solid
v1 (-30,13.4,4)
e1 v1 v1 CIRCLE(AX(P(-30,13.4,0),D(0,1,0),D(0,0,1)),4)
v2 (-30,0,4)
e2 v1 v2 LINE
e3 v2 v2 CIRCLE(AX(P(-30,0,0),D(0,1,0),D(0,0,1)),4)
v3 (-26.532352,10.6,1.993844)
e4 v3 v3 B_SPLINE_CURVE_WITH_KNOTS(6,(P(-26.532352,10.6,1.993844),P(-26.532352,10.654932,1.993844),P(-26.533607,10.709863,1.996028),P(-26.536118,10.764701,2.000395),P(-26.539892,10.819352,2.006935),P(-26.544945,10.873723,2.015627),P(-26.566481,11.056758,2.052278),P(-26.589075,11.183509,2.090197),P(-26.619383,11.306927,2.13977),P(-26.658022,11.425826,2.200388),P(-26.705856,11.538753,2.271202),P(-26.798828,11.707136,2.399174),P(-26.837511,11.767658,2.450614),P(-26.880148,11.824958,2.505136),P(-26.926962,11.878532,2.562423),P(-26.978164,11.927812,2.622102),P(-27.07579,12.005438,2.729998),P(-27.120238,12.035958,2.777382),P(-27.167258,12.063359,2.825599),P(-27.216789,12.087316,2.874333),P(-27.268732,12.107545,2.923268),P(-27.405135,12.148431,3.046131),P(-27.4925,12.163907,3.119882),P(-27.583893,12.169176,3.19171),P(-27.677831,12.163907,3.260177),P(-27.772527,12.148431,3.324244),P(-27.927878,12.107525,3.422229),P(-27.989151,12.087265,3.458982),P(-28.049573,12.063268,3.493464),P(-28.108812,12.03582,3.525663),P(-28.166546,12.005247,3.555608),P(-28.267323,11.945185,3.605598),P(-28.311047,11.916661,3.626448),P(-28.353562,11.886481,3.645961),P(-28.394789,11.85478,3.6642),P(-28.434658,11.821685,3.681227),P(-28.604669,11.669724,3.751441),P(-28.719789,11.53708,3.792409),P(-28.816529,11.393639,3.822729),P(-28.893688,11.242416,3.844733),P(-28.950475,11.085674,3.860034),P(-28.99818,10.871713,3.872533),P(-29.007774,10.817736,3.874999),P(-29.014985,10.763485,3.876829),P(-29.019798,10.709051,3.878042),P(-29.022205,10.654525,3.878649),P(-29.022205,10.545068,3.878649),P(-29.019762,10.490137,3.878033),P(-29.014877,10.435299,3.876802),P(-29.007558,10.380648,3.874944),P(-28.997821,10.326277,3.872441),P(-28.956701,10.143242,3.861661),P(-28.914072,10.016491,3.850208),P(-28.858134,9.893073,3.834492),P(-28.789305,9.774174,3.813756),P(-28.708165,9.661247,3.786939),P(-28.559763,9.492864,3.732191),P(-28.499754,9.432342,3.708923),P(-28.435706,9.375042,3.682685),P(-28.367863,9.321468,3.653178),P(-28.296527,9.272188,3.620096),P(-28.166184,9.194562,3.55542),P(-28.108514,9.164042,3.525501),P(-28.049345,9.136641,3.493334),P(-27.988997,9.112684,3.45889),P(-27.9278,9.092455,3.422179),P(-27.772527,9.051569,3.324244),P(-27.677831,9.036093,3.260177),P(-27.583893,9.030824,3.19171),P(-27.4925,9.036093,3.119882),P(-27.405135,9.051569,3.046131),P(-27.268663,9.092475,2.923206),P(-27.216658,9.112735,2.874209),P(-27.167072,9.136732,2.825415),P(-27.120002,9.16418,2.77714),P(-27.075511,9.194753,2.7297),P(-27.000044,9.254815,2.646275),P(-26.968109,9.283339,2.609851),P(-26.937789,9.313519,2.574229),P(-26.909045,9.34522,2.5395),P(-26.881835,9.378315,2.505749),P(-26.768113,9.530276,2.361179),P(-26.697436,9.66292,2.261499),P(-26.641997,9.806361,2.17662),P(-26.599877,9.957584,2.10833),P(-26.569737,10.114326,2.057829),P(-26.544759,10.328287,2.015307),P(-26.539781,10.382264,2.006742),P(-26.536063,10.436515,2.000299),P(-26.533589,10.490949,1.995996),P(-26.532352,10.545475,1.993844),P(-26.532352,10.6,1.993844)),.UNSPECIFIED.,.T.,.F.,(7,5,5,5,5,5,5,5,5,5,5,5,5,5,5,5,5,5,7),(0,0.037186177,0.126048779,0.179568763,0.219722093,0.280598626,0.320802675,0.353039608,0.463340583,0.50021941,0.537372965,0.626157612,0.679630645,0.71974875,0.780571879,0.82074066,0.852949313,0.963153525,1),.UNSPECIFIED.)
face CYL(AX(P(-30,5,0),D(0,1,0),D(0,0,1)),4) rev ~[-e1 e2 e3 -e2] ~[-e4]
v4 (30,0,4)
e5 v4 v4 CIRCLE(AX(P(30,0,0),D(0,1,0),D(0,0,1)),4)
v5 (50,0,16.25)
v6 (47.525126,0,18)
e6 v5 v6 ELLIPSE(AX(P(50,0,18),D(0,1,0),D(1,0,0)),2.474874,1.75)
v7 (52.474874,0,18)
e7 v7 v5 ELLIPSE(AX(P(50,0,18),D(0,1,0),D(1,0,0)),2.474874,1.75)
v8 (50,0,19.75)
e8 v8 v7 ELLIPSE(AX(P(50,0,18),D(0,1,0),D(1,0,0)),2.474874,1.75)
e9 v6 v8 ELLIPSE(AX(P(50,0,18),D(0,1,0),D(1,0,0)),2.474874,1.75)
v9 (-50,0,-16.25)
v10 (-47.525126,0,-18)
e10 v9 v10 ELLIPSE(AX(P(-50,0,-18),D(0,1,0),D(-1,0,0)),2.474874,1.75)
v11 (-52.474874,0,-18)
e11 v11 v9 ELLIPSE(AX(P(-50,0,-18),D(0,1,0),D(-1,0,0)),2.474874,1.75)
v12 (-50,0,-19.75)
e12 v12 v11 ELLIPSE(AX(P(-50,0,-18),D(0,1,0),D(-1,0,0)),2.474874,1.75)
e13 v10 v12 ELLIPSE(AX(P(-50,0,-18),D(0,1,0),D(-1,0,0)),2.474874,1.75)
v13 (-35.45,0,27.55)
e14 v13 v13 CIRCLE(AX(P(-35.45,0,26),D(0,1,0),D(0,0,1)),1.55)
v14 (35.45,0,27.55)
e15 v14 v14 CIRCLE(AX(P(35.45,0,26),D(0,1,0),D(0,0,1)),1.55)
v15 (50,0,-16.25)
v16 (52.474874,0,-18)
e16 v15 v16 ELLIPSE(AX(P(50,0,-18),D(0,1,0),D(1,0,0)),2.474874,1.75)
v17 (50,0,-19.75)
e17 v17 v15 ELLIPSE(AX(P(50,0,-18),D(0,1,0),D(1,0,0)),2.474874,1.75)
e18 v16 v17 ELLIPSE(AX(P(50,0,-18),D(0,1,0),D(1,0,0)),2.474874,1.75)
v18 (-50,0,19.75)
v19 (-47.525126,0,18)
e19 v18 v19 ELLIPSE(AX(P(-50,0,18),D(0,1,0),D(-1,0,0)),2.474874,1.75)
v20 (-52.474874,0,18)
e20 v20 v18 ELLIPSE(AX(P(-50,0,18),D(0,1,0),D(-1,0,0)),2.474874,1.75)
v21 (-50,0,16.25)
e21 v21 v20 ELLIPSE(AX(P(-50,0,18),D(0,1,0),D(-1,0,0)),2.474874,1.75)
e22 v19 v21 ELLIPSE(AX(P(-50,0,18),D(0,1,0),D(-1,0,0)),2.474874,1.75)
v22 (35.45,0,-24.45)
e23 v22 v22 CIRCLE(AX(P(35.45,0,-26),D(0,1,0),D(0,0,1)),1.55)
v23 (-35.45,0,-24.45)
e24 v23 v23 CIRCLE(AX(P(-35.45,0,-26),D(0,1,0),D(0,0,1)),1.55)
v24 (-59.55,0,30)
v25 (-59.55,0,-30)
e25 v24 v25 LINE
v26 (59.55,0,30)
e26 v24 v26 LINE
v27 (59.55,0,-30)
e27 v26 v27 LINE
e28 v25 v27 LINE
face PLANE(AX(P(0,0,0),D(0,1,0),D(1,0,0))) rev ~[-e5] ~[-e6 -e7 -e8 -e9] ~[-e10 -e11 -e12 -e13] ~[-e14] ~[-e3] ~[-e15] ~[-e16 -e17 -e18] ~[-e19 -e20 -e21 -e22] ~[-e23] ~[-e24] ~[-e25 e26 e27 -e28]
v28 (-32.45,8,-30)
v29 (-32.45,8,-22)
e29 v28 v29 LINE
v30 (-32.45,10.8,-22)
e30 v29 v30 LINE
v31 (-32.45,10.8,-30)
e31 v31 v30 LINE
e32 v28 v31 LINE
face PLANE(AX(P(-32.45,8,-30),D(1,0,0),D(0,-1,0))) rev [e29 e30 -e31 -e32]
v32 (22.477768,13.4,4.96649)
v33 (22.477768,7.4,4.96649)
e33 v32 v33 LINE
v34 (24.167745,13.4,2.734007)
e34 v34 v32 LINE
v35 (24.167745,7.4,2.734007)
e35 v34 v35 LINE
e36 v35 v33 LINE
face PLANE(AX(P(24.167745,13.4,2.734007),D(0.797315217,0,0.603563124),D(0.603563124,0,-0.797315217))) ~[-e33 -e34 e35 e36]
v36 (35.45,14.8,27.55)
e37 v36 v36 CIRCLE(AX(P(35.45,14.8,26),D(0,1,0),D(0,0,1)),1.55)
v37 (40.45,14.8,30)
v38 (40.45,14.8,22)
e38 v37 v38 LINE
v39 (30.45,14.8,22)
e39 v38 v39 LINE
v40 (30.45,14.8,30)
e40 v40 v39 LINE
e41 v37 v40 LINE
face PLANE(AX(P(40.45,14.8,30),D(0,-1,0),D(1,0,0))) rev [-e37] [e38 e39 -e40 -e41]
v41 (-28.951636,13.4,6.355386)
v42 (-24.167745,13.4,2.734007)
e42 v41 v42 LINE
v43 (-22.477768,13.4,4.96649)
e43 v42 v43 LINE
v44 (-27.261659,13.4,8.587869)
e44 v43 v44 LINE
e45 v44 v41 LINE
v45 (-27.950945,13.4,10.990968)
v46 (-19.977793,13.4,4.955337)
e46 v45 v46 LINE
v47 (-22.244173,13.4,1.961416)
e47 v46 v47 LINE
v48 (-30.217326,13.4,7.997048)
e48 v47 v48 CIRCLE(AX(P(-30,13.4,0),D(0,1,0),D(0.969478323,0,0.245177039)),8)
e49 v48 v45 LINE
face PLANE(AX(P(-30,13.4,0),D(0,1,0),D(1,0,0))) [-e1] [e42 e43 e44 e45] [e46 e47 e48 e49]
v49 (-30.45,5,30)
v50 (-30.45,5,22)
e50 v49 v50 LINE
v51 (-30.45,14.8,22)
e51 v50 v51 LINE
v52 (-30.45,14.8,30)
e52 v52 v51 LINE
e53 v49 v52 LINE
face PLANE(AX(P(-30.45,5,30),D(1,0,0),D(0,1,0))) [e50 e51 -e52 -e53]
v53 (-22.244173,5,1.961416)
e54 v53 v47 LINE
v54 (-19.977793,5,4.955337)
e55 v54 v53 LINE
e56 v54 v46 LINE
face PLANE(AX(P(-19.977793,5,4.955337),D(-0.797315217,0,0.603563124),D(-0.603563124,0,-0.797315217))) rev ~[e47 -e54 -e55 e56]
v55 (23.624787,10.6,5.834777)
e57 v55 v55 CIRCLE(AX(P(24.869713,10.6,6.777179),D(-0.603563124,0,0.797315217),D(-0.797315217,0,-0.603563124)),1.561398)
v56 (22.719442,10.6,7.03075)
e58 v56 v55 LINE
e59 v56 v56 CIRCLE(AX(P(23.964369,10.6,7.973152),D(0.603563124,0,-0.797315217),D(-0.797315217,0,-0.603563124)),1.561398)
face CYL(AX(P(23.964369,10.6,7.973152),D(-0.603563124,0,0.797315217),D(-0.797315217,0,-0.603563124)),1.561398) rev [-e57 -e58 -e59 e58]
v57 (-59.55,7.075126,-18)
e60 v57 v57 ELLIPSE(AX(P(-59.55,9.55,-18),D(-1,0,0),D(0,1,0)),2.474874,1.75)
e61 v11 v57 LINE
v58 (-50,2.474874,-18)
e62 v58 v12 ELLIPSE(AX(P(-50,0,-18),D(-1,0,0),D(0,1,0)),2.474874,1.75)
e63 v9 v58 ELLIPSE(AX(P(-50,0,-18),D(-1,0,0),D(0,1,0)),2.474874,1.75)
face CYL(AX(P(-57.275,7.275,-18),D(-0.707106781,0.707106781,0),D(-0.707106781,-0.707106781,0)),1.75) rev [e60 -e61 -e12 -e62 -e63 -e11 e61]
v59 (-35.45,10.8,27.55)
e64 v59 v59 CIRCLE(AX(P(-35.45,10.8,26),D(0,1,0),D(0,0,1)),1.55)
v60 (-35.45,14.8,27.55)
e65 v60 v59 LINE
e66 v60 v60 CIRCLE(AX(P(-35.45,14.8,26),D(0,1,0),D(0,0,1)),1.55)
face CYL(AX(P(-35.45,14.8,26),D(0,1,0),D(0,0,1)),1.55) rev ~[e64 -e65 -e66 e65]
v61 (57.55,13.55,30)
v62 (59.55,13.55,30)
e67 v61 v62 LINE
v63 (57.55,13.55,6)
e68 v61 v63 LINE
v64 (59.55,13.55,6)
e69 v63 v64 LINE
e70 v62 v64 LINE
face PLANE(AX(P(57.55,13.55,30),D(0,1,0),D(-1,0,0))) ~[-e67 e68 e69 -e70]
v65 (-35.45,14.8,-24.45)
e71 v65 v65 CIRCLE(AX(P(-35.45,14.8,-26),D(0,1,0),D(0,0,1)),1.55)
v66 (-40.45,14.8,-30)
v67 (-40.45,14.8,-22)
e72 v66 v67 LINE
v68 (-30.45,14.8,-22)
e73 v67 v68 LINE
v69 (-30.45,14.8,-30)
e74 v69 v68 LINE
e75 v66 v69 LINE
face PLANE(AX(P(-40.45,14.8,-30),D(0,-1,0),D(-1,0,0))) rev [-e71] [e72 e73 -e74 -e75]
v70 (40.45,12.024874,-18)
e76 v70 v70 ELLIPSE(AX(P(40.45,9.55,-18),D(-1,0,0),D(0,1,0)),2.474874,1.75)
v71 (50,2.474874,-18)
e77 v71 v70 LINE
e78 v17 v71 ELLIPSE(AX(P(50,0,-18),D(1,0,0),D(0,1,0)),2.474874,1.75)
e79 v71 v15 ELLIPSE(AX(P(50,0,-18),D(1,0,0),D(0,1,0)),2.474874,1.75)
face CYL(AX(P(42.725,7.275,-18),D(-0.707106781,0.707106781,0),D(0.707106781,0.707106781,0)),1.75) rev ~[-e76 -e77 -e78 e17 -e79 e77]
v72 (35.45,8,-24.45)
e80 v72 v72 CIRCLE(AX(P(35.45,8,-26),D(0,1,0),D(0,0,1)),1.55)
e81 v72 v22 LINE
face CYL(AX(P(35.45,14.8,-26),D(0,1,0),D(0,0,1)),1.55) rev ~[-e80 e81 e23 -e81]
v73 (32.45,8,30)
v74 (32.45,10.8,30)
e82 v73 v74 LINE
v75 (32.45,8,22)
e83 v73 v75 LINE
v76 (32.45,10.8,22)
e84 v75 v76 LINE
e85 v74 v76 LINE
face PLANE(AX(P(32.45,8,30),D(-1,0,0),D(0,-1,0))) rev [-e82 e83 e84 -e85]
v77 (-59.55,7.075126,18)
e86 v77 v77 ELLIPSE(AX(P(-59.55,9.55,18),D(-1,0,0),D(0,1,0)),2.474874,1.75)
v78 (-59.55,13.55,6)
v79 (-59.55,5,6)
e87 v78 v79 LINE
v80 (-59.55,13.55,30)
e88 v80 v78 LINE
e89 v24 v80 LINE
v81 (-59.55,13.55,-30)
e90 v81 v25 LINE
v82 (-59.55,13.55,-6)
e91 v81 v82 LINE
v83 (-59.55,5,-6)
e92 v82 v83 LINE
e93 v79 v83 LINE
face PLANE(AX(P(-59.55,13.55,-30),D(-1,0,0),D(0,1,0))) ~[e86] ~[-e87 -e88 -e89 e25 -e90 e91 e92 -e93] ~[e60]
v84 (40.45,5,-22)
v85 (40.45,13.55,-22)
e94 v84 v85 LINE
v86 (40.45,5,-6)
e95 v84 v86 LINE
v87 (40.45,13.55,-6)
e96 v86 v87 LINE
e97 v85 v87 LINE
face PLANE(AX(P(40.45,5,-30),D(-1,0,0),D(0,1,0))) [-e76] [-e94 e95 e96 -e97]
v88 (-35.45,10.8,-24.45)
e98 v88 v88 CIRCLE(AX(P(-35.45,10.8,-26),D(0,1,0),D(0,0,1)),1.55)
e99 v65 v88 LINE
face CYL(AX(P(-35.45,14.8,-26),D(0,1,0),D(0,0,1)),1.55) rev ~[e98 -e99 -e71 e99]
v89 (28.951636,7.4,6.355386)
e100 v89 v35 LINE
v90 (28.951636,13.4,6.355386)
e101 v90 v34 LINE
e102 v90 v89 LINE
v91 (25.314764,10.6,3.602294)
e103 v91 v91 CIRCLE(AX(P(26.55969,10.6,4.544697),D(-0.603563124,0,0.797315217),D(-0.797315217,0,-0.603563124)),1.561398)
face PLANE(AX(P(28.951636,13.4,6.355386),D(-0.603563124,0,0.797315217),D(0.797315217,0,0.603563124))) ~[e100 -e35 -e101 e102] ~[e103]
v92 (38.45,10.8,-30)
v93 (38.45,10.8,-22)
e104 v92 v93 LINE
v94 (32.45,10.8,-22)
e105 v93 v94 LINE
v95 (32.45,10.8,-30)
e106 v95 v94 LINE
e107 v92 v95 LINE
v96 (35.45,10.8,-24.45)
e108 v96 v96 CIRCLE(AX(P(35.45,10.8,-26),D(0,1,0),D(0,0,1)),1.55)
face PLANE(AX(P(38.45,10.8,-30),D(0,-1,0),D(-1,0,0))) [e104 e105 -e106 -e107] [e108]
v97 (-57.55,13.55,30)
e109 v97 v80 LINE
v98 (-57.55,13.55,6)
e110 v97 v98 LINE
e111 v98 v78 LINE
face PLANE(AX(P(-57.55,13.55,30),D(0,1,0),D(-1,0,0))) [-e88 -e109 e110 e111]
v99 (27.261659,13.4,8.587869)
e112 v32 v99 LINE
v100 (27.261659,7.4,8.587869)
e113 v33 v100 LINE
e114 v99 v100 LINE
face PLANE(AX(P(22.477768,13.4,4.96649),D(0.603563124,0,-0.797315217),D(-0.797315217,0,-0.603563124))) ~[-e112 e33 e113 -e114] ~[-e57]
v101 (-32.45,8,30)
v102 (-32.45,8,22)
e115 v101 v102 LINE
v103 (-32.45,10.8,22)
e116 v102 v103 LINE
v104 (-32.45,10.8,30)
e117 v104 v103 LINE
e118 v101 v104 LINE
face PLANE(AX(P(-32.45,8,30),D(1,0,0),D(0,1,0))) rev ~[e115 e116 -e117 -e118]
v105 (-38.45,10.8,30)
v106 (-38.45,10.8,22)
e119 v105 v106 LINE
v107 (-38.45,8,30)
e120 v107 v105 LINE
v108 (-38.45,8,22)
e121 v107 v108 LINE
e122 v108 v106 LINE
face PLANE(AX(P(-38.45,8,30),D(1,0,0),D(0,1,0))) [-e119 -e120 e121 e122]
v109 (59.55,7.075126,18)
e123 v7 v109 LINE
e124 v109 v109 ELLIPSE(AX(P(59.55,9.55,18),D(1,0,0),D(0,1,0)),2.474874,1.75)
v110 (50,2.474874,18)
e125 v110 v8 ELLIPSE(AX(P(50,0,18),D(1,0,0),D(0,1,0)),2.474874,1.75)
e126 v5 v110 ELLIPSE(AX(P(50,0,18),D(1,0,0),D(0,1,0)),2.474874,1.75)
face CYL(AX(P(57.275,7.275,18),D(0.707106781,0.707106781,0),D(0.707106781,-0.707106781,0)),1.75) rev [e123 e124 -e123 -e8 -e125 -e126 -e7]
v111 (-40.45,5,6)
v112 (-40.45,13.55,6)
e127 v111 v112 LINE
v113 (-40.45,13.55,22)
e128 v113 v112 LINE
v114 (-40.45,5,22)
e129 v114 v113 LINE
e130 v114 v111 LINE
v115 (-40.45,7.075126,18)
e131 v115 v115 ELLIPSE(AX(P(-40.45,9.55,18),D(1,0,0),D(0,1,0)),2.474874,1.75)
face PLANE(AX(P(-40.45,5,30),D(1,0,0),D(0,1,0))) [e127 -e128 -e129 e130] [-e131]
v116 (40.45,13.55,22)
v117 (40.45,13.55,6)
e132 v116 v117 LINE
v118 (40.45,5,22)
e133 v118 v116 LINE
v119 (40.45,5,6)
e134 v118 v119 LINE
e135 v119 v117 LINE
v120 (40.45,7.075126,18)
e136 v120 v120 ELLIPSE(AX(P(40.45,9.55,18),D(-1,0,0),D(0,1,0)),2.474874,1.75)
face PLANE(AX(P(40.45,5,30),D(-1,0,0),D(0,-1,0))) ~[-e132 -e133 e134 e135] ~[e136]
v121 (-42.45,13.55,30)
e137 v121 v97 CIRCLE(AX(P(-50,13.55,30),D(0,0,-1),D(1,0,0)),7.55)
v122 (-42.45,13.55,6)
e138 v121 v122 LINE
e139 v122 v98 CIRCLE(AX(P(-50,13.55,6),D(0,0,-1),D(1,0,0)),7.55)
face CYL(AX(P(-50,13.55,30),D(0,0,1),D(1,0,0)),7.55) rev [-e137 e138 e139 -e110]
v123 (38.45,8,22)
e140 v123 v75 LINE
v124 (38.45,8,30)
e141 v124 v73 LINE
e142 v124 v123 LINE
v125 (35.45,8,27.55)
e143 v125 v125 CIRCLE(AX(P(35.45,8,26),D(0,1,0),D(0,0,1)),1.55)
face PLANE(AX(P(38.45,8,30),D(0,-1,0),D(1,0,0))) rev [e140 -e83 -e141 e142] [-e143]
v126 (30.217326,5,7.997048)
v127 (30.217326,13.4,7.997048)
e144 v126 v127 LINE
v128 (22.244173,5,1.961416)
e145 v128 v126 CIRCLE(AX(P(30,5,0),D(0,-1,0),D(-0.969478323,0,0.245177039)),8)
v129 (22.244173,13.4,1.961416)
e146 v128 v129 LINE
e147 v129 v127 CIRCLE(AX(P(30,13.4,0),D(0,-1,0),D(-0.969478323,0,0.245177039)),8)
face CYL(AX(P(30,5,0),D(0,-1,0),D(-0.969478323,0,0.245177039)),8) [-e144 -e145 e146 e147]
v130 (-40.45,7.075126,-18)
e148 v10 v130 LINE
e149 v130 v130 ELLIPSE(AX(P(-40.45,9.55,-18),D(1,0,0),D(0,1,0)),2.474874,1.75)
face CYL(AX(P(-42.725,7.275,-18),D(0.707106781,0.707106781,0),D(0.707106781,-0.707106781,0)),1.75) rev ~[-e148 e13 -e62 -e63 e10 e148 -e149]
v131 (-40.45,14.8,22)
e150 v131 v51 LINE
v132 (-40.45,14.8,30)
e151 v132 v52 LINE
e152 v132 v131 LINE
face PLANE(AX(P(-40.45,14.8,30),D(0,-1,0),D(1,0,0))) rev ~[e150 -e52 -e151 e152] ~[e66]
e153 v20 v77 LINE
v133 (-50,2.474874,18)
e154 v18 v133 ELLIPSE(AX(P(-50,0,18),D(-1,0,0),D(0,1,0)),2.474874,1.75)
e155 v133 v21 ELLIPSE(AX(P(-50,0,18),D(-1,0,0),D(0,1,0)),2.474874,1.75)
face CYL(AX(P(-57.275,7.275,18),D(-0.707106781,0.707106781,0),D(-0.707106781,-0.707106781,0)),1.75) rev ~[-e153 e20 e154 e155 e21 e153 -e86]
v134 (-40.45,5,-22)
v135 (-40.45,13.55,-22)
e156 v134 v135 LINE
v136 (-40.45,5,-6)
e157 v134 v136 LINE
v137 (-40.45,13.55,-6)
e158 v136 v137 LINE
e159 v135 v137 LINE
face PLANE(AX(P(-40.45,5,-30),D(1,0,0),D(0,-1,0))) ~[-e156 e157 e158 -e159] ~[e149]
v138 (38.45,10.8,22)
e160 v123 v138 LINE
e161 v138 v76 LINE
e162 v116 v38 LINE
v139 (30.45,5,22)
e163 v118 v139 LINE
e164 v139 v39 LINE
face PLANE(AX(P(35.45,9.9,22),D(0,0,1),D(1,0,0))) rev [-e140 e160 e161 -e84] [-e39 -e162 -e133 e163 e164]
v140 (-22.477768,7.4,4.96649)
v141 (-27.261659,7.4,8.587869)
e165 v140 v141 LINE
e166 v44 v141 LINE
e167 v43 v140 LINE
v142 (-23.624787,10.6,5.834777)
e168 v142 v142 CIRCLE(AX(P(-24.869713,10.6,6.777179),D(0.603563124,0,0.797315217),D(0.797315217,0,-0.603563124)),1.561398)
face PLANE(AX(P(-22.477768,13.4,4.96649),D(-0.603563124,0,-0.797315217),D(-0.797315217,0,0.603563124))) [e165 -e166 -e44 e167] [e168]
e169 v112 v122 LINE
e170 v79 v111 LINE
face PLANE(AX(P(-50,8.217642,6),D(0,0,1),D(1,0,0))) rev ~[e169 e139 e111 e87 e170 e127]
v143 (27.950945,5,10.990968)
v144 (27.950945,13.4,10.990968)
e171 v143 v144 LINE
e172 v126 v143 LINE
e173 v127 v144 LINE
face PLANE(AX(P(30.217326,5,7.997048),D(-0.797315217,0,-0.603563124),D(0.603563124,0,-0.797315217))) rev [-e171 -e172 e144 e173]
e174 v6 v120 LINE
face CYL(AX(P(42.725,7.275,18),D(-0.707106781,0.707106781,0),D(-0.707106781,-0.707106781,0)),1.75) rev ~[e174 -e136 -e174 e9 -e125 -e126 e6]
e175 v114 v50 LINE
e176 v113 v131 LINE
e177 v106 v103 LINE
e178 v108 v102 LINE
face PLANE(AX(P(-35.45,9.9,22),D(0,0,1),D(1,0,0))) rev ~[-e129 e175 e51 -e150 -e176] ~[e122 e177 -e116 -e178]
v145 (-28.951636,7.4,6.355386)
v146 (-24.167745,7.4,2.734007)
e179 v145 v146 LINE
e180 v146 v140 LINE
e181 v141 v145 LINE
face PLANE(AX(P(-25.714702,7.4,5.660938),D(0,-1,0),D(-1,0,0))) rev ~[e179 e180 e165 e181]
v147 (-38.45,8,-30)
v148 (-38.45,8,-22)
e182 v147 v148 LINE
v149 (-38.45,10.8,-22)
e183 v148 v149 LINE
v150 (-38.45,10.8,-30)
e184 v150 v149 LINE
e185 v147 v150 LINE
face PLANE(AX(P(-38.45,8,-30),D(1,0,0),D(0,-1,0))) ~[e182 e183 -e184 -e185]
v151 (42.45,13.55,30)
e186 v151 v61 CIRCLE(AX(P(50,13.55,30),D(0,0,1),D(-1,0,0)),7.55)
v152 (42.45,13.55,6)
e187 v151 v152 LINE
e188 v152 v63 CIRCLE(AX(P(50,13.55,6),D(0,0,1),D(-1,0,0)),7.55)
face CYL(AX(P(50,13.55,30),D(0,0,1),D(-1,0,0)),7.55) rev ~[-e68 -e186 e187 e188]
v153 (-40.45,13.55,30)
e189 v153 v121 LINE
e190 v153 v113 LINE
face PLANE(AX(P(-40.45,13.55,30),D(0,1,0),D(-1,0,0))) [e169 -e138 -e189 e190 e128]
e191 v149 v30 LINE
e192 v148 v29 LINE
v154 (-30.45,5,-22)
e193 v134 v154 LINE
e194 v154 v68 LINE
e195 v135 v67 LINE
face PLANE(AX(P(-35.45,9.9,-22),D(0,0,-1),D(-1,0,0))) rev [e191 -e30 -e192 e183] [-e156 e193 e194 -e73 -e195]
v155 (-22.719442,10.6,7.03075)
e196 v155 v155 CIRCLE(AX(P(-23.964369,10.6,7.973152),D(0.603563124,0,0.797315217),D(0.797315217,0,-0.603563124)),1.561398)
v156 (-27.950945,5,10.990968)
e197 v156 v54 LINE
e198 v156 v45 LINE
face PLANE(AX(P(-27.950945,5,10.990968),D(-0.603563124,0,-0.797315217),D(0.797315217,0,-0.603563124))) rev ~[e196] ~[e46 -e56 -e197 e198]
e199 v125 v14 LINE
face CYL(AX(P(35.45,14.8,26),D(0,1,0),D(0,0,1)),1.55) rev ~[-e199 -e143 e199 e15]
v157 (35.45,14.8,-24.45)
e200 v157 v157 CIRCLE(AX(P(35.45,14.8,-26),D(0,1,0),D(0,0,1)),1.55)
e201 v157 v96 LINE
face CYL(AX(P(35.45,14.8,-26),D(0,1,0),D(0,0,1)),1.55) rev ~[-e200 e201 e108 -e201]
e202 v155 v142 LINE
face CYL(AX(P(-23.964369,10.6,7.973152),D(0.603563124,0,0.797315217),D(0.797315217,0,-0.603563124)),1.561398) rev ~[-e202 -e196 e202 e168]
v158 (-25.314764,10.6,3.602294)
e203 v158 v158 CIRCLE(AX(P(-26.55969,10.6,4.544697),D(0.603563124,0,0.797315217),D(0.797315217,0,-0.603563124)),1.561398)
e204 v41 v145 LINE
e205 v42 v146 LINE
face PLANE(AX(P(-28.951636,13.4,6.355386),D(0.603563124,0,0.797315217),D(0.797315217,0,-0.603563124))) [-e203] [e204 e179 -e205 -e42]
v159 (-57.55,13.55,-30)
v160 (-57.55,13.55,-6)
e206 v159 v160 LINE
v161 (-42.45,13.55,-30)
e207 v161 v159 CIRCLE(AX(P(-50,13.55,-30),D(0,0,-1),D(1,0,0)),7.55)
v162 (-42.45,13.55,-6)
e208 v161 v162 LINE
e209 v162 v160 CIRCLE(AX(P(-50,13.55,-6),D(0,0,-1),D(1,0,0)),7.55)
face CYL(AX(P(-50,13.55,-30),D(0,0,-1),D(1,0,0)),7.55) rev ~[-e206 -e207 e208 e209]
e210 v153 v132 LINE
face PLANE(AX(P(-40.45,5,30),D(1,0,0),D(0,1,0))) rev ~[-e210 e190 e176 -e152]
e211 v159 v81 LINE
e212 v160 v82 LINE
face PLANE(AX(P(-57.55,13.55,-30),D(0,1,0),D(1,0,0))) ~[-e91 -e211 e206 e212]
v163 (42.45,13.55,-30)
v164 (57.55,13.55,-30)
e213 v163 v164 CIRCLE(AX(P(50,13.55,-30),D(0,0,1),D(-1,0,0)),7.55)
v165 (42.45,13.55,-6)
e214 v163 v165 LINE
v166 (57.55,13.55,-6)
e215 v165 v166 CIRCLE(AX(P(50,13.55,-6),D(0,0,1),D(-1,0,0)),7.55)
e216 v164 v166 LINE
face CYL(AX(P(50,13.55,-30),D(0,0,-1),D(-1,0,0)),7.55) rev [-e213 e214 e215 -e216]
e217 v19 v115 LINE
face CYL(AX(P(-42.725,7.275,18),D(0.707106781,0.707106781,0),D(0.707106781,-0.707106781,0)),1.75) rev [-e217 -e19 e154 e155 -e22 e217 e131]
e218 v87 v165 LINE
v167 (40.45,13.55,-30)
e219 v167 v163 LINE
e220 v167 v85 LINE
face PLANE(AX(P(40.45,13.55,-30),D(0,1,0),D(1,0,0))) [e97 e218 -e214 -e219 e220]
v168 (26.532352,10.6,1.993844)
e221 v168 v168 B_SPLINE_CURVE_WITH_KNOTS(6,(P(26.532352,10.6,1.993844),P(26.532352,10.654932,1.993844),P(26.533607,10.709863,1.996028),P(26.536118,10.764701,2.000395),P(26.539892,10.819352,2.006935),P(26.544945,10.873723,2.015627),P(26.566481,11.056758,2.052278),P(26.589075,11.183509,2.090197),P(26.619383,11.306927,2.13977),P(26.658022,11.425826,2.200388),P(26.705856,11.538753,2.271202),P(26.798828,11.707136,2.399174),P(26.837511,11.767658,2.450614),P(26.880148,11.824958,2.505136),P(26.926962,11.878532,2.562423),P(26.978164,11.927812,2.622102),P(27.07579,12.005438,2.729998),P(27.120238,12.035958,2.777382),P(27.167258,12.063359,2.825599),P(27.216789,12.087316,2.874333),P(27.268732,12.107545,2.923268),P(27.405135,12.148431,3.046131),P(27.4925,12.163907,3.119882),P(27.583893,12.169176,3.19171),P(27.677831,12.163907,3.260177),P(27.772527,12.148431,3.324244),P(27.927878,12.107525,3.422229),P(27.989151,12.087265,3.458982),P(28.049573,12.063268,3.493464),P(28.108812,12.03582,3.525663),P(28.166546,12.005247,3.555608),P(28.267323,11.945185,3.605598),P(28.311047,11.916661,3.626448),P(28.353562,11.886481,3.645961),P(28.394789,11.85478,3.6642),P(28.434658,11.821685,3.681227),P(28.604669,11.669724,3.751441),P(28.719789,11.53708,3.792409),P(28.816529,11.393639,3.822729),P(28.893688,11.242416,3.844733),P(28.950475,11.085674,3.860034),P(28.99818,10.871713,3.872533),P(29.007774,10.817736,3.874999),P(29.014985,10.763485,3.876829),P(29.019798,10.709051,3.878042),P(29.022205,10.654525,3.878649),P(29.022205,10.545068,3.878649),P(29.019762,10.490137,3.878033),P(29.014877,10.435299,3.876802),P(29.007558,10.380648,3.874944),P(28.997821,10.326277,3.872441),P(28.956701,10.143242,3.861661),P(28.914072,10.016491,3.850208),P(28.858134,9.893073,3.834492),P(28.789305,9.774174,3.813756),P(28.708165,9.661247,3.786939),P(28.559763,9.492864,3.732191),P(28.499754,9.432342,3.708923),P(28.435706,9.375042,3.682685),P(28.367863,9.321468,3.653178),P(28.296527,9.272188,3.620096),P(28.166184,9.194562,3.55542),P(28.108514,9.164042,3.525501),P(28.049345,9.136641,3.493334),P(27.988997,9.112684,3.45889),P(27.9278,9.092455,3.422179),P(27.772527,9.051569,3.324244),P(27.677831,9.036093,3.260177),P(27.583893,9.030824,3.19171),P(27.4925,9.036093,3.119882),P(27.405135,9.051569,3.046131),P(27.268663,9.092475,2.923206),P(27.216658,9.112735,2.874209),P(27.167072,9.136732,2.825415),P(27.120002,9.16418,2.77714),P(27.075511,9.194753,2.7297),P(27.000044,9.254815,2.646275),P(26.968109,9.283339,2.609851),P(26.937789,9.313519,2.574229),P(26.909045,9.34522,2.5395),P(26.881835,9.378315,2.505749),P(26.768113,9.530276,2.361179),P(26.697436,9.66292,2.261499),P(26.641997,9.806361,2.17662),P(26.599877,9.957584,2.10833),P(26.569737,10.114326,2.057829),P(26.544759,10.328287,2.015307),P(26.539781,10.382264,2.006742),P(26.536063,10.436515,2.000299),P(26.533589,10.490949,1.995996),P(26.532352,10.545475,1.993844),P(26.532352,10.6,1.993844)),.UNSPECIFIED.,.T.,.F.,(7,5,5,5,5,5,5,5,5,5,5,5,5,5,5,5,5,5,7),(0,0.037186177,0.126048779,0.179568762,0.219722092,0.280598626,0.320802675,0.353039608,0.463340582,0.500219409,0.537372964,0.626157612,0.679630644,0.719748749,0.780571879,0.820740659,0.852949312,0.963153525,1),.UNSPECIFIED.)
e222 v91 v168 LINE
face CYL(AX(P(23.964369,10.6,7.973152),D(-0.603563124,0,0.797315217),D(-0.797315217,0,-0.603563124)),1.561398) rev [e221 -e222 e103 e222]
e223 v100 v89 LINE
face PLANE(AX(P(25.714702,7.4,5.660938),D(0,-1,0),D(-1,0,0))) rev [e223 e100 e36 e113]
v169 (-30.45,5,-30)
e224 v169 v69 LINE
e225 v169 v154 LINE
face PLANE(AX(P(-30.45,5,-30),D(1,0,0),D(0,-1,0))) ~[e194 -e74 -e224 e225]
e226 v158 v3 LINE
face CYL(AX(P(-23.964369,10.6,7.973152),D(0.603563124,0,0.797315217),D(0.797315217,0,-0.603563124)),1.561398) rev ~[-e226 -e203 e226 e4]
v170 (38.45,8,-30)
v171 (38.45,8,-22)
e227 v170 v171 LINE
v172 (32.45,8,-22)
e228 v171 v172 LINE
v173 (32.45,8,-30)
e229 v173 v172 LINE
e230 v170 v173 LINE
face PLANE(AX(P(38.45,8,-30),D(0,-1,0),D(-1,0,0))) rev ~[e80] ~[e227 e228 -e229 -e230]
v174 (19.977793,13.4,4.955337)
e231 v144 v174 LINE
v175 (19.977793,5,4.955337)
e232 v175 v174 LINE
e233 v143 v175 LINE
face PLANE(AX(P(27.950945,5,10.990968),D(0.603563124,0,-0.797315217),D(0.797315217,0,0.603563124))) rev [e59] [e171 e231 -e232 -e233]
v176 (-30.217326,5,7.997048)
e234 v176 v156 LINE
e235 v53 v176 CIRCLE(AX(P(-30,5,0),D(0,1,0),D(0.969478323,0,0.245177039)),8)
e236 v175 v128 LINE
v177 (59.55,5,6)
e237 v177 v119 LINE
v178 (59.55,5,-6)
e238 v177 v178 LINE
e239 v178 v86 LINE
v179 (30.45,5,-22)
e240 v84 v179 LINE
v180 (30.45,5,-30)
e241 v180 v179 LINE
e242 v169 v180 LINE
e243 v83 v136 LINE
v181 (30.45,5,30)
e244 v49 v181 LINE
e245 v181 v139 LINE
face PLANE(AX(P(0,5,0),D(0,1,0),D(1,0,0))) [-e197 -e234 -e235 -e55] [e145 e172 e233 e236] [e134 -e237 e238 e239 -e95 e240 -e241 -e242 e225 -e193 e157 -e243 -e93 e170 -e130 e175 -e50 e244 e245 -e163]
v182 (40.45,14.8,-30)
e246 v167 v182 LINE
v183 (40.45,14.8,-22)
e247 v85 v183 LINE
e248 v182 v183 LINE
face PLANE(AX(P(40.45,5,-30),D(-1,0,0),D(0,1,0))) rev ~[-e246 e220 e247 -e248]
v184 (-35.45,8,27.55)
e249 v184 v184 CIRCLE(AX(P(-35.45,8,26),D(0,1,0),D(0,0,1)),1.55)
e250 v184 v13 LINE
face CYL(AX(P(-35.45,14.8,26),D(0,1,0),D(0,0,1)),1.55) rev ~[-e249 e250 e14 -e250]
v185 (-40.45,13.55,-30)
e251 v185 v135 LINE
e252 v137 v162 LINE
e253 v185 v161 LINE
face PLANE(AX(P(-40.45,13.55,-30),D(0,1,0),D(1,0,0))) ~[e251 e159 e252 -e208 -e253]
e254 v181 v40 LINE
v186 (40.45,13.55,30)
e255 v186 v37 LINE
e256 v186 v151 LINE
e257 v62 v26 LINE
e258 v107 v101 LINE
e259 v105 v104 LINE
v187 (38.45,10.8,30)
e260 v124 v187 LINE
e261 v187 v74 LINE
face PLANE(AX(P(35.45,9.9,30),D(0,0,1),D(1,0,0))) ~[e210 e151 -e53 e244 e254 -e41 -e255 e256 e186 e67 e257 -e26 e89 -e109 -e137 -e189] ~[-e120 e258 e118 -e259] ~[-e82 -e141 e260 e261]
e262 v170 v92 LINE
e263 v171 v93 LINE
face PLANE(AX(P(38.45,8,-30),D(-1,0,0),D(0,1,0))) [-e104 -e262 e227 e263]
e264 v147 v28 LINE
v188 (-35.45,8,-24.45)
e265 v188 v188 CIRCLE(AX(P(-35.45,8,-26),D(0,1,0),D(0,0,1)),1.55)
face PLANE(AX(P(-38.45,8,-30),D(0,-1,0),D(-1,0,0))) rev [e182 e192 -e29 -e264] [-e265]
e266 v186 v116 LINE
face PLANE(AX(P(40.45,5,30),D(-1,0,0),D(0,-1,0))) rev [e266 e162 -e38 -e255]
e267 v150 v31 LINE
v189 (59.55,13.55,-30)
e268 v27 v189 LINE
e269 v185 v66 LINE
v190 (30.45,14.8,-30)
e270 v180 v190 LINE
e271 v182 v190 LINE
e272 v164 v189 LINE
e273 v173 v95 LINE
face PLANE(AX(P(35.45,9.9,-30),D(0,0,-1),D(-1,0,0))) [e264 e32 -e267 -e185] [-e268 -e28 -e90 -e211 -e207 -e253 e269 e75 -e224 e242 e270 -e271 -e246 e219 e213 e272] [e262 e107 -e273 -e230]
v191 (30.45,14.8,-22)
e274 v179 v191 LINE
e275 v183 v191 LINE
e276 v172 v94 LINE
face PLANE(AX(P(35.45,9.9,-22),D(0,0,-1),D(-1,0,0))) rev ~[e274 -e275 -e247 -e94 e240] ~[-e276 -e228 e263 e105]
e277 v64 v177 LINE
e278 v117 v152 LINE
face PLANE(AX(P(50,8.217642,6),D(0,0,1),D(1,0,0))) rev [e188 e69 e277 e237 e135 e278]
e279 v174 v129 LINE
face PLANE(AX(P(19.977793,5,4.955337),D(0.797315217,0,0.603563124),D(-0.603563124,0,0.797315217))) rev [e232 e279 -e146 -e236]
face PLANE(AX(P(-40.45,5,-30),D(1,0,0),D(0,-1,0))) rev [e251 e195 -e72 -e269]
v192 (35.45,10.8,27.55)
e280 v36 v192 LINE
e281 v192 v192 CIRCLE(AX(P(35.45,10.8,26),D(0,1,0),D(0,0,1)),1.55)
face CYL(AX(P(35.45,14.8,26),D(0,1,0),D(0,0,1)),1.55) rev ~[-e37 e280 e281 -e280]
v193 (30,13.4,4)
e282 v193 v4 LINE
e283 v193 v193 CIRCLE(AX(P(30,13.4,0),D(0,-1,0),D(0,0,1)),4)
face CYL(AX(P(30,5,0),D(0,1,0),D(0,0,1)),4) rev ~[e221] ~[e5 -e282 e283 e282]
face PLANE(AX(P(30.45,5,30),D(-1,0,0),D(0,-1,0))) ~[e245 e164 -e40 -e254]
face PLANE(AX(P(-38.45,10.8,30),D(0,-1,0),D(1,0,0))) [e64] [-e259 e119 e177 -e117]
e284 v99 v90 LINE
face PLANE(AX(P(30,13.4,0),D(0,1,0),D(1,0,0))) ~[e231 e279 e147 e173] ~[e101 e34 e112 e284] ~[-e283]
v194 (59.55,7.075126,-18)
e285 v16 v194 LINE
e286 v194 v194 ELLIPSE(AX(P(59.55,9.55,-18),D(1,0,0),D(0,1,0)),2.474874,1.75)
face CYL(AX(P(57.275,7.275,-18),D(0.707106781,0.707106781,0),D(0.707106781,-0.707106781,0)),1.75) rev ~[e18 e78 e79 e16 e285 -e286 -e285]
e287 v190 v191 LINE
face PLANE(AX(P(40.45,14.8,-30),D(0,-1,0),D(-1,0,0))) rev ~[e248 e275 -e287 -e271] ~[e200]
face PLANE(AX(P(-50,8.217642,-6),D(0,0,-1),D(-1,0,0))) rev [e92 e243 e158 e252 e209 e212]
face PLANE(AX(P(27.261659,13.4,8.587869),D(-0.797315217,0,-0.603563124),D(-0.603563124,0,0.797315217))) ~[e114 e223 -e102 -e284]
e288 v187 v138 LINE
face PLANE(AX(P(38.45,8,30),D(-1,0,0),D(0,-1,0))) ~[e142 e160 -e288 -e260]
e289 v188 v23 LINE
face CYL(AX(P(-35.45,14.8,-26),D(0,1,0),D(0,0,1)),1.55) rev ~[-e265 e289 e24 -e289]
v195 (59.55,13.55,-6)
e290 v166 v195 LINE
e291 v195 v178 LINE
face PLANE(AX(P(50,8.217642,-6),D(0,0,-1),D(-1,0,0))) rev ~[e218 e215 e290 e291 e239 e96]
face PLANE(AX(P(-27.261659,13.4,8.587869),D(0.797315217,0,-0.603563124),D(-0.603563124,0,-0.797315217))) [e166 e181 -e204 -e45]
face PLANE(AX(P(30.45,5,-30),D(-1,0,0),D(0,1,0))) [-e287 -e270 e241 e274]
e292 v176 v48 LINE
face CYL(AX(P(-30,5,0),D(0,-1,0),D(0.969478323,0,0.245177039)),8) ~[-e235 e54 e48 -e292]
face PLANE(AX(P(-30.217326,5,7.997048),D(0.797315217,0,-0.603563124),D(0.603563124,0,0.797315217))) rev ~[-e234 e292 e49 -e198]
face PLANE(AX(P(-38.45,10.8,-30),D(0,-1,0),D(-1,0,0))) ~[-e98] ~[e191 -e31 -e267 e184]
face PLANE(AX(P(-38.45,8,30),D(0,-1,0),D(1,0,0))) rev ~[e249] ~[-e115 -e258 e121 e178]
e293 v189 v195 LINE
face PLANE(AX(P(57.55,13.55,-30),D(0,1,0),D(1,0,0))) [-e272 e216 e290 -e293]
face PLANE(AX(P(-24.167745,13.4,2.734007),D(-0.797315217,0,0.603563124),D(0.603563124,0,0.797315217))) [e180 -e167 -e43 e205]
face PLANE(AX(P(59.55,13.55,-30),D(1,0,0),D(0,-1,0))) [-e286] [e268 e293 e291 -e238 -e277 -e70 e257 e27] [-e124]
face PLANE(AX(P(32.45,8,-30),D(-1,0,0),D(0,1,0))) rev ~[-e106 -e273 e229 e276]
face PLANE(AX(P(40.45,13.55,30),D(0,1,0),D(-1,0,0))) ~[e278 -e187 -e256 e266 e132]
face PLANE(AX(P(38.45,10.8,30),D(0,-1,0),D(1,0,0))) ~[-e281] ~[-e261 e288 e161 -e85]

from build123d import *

# Parameters (mm, degrees)
SKETCH1_W                 = 119.1
SKETCH1_H                 = 60
BOSS_EXTRUDE1_DEPTH       = 5
BOSS_EXTRUDE2_DEPTH       = 24
MIRROR2_COPY_1_DEPTH      = 24
SKETCH3_R                 = 1.75
CUT_EXTRUDE1_DEPTH        = 102.850411143
MIRROR4_COPY_1_SKETCH_R   = 1.75
MIRROR4_COPY_1_DEPTH      = 102.850411143
MIRROR5_COPY_1_SKETCH_R   = 1.75
MIRROR5_COPY_1_DEPTH      = 102.850411143
MIRROR5_COPY_2_SKETCH_R   = 1.75
MIRROR5_COPY_2_DEPTH      = 102.850411143
MIRROR5_COPY_3_SKETCH_R   = 1.75
MIRROR5_COPY_3_DEPTH      = 102.850411143
SKETCH4_R                 = 8
SKETCH4_R_2               = 4
BOSS_EXTRUDE3_DEPTH       = 8.4
CUT_EXTRUDE3_DEPTH        = 6
SKETCH7_R                 = 1.561398203
CUT_EXTRUDE4_DEPTH        = 8
SKETCH8_R                 = 4
CUT_EXTRUDE5_DEPTH        = 8
SKETCH9_W                 = 10
SKETCH9_H                 = 9.8
SKETCH9_W_2               = 6
SKETCH9_H_2               = 2.8
BOSS_EXTRUDE4_DEPTH       = 8
MIRROR9_COPY_1_SKETCH_W   = 10
MIRROR9_COPY_1_SKETCH_H   = 9.8
MIRROR9_COPY_1_SKETCH_W_2 = 6
MIRROR9_COPY_1_SKETCH_H_2 = 2.8
MIRROR9_COPY_1_DEPTH      = 8
SKETCH10_R                = 1.55
CUT_EXTRUDE6_DEPTH        = 69.3025805


with BuildPart() as part:
    # Sketch1 → Boss-Extrude1 (new body)
    with BuildSketch(Plane(origin=(0, 0, 0), x_dir=(1, 0, 0), z_dir=(0, 1, 0))):
        Rectangle(SKETCH1_W, SKETCH1_H)
    extrude(amount=BOSS_EXTRUDE1_DEPTH)

    # Sketch2 → Boss-Extrude2 (add)
    with BuildSketch(Plane.XY.offset(30)):
        with BuildLine():
            Line((-59.55, 13.55), (-59.55, 5))
            Line((-59.55, 5), (-40.45, 5))
            Line((-40.45, 5), (-40.45, 13.55))
            Line((-40.45, 13.55), (-42.45, 13.55))
            ThreePointArc((-42.45, 13.55), (-50, 6), (-57.55, 13.55))
            Line((-57.55, 13.55), (-59.55, 13.55))
        make_face()
    boss_extrude2 = extrude(amount=-BOSS_EXTRUDE2_DEPTH)

    # Mirror1: Boss-Extrude2 across plane
    add(boss_extrude2.mirror(Plane.XY))

    # Mirror2: Boss-Extrude2 across plane
    add(boss_extrude2.mirror(Plane(origin=(0, 0, 0), x_dir=(0, 0, 1), z_dir=(1, 0, 0))))

    # Mirror2 copy 1 sketch → Mirror2 copy 1 (add)
    with BuildSketch(Plane(origin=(0, 0, -30), x_dir=(-1, 0, 0), z_dir=(0, 0, -1))):
        with BuildLine():
            Line((-59.55, 13.55), (-59.55, 5))
            Line((-59.55, 5), (-40.45, 5))
            Line((-40.45, 5), (-40.45, 13.55))
            Line((-40.45, 13.55), (-42.45, 13.55))
            ThreePointArc((-42.45, 13.55), (-50, 6), (-57.55, 13.55))
            Line((-57.55, 13.55), (-59.55, 13.55))
        make_face()
    extrude(amount=-MIRROR2_COPY_1_DEPTH)

    # Sketch3 → Cut-Extrude1 (cut, symmetric)
    with BuildSketch(Plane(origin=(-32.275, 32.275, 0), x_dir=(0.7071067811865477, 0.7071067811865475, 0), z_dir=(-0.7071067811865475, 0.7071067811865477, 0))):
        with Locations(Location((-35.355339059, -18, 0), (0, 0, 180))):
            Circle(SKETCH3_R)
    cut_extrude1 = extrude(amount=CUT_EXTRUDE1_DEPTH, both=True, mode=Mode.SUBTRACT)

    # Mirror3: Cut-Extrude1 across plane
    add(cut_extrude1.mirror(Plane.ZY.offset(50)), mode=Mode.SUBTRACT)

    # Mirror4: Cut-Extrude1 across plane
    add(cut_extrude1.mirror(Plane.XY), mode=Mode.SUBTRACT)

    # Mirror4 copy 1 sketch → Mirror4 copy 1 (cut, symmetric)
    with BuildSketch(Plane(origin=(-67.725, 32.275, 0), x_dir=(-0.7071067811865477, 0.7071067811865475, 0), z_dir=(0.7071067811865475, 0.7071067811865477, 0))):
        with Locations(Location((-35.355339059, -18, 0), (0, 0, 180))):
            Circle(MIRROR4_COPY_1_SKETCH_R)
    extrude(amount=MIRROR4_COPY_1_DEPTH, both=True, mode=Mode.SUBTRACT)

    # Mirror5: Cut-Extrude1 across plane
    add(cut_extrude1.mirror(Plane(origin=(0, 0, 0), x_dir=(0, 0, 1), z_dir=(1, 0, 0))), mode=Mode.SUBTRACT)

    # Mirror5 copy 1 sketch → Mirror5 copy 1 (cut, symmetric)
    with BuildSketch(Plane(origin=(67.725, 32.275, 0), x_dir=(0.7071067811865477, 0.7071067811865475, 0), z_dir=(-0.7071067811865475, 0.7071067811865477, 0))):
        with Locations(Location((-35.355339059, -18, 0), (0, 0, 180))):
            Circle(MIRROR5_COPY_1_SKETCH_R)
    extrude(amount=MIRROR5_COPY_1_DEPTH, both=True, mode=Mode.SUBTRACT)

    # Mirror5 copy 2 sketch → Mirror5 copy 2 (cut, symmetric)
    with BuildSketch(Plane(origin=(32.275, 32.275, 0), x_dir=(-0.7071067811865477, 0.7071067811865475, 0), z_dir=(0.7071067811865475, 0.7071067811865477, 0))):
        with Locations(Location((-35.355339059, -18, 0), (0, 0, 180))):
            Circle(MIRROR5_COPY_2_SKETCH_R)
    extrude(amount=MIRROR5_COPY_2_DEPTH, both=True, mode=Mode.SUBTRACT)

    # Mirror5 copy 3 sketch → Mirror5 copy 3 (cut, symmetric)
    with BuildSketch(Plane(origin=(67.725, 32.275, 0), x_dir=(0.7071067811865477, 0.7071067811865475, 0), z_dir=(-0.7071067811865475, 0.7071067811865477, 0))):
        with Locations((-35.355339059, 18)):
            Circle(MIRROR5_COPY_3_SKETCH_R)
    extrude(amount=MIRROR5_COPY_3_DEPTH, both=True, mode=Mode.SUBTRACT)

    # Sketch4 → Boss-Extrude3 (add)
    with BuildSketch(Plane(origin=(0, 5, 0), x_dir=(1, 0, 0), z_dir=(0, 1, 0))):
        with Locations((-30, 0)):
            Circle(SKETCH4_R)
        with Locations(Location((-30, 0, 0), (0, 0, 270))):
            Circle(SKETCH4_R_2, mode=Mode.SUBTRACT)
        with BuildLine():
            Line((-30.217325584, -7.997047555), (-27.950944845, -10.99096779))
            Line((-27.950944845, -10.99096779), (-19.977792674, -4.95533655))
            Line((-19.977792674, -4.95533655), (-22.244173413, -1.961416314))
            ThreePointArc((-22.244173413, -1.961416314), (-25.171495008, -6.378521736), (-30.217325584, -7.997047555))
        make_face()
    boss_extrude3 = extrude(amount=BOSS_EXTRUDE3_DEPTH)

    # Sketch6 → Cut-Extrude3 (cut)
    with BuildSketch(Plane(origin=(0, 13.4, 0), x_dir=(1, 0, 0), z_dir=(0, 1, 0))):
        Polygon((-28.951635844, -6.355386109), (-24.167744542, -2.734007365), (-22.477767795, -4.966489973), (-27.261659097, -8.587868717), align=None)
    cut_extrude3 = extrude(amount=-CUT_EXTRUDE3_DEPTH, mode=Mode.SUBTRACT)

    # Sketch7 → Cut-Extrude4 (cut)
    with BuildSketch(Plane(origin=(-4.893022101, 0, -6.463749727), x_dir=(0.797315217025082, 0, -0.6035631240394382), z_dir=(0.6035631240394382, 0, 0.797315217025082))):
        with Locations((-23.919456511, 10.6)):
            Circle(SKETCH7_R)
    cut_extrude4 = extrude(amount=-CUT_EXTRUDE4_DEPTH, mode=Mode.SUBTRACT)

    # Mirror7: Boss-Extrude3, Cut-Extrude3, Cut-Extrude4 across plane
    add(boss_extrude3.mirror(Plane(origin=(0, 0, 0), x_dir=(0, 0, 1), z_dir=(1, 0, 0))))
    add(cut_extrude3.mirror(Plane(origin=(0, 0, 0), x_dir=(0, 0, 1), z_dir=(1, 0, 0))), mode=Mode.SUBTRACT)
    add(cut_extrude4.mirror(Plane(origin=(0, 0, 0), x_dir=(0, 0, 1), z_dir=(1, 0, 0))), mode=Mode.SUBTRACT)

    # Sketch8 → Cut-Extrude5 (cut)
    with BuildSketch(Plane(origin=(0, 5, 0), x_dir=(1, 0, 0), z_dir=(0, 1, 0))):
        with Locations(Location((-30, 0, 0), (0, 0, 270))):
            Circle(SKETCH8_R)
        with Locations(Location((30, 0, 0), (0, 0, 270))):
            Circle(SKETCH8_R)
    extrude(amount=-CUT_EXTRUDE5_DEPTH, mode=Mode.SUBTRACT)

    # Sketch9 → Boss-Extrude4 (add)
    with BuildSketch(Plane.XY.offset(30)):
        with Locations((-35.45, 9.9)):
            Rectangle(SKETCH9_W, SKETCH9_H)
        with Locations((-35.45, 9.4)):
            Rectangle(SKETCH9_W_2, SKETCH9_H_2, mode=Mode.SUBTRACT)
    boss_extrude4 = extrude(amount=-BOSS_EXTRUDE4_DEPTH)

    # Mirror8: Boss-Extrude4 across plane
    add(boss_extrude4.mirror(Plane(origin=(0, 0, 0), x_dir=(0, 0, 1), z_dir=(1, 0, 0))))

    # Mirror9: Boss-Extrude4 across plane
    add(boss_extrude4.mirror(Plane.XY))

    # Mirror9 copy 1 sketch → Mirror9 copy 1 (add)
    with BuildSketch(Plane(origin=(0, 0, -30), x_dir=(-1, 0, 0), z_dir=(0, 0, -1))):
        with Locations((-35.45, 9.9)):
            Rectangle(MIRROR9_COPY_1_SKETCH_W, MIRROR9_COPY_1_SKETCH_H)
        with Locations((-35.45, 9.4)):
            Rectangle(MIRROR9_COPY_1_SKETCH_W_2, MIRROR9_COPY_1_SKETCH_H_2, mode=Mode.SUBTRACT)
    extrude(amount=-MIRROR9_COPY_1_DEPTH)

    # Sketch10 → Cut-Extrude6 (cut, through all)
    with BuildSketch(Plane(origin=(0, 14.8, 0), x_dir=(1, 0, 0), z_dir=(0, 1, 0))):
        with Locations(Location((-35.45, 26, 0), (0, 0, 270))):
            Circle(SKETCH10_R)
        with Locations(Location((35.45, 26, 0), (0, 0, 270))):
            Circle(SKETCH10_R)
        with Locations(Location((35.45, -26, 0), (0, 0, 270))):
            Circle(SKETCH10_R)
        with Locations(Location((-35.45, -26, 0), (0, 0, 270))):
            Circle(SKETCH10_R)
    extrude(amount=-CUT_EXTRUDE6_DEPTH, mode=Mode.SUBTRACT)


solid = part.part
